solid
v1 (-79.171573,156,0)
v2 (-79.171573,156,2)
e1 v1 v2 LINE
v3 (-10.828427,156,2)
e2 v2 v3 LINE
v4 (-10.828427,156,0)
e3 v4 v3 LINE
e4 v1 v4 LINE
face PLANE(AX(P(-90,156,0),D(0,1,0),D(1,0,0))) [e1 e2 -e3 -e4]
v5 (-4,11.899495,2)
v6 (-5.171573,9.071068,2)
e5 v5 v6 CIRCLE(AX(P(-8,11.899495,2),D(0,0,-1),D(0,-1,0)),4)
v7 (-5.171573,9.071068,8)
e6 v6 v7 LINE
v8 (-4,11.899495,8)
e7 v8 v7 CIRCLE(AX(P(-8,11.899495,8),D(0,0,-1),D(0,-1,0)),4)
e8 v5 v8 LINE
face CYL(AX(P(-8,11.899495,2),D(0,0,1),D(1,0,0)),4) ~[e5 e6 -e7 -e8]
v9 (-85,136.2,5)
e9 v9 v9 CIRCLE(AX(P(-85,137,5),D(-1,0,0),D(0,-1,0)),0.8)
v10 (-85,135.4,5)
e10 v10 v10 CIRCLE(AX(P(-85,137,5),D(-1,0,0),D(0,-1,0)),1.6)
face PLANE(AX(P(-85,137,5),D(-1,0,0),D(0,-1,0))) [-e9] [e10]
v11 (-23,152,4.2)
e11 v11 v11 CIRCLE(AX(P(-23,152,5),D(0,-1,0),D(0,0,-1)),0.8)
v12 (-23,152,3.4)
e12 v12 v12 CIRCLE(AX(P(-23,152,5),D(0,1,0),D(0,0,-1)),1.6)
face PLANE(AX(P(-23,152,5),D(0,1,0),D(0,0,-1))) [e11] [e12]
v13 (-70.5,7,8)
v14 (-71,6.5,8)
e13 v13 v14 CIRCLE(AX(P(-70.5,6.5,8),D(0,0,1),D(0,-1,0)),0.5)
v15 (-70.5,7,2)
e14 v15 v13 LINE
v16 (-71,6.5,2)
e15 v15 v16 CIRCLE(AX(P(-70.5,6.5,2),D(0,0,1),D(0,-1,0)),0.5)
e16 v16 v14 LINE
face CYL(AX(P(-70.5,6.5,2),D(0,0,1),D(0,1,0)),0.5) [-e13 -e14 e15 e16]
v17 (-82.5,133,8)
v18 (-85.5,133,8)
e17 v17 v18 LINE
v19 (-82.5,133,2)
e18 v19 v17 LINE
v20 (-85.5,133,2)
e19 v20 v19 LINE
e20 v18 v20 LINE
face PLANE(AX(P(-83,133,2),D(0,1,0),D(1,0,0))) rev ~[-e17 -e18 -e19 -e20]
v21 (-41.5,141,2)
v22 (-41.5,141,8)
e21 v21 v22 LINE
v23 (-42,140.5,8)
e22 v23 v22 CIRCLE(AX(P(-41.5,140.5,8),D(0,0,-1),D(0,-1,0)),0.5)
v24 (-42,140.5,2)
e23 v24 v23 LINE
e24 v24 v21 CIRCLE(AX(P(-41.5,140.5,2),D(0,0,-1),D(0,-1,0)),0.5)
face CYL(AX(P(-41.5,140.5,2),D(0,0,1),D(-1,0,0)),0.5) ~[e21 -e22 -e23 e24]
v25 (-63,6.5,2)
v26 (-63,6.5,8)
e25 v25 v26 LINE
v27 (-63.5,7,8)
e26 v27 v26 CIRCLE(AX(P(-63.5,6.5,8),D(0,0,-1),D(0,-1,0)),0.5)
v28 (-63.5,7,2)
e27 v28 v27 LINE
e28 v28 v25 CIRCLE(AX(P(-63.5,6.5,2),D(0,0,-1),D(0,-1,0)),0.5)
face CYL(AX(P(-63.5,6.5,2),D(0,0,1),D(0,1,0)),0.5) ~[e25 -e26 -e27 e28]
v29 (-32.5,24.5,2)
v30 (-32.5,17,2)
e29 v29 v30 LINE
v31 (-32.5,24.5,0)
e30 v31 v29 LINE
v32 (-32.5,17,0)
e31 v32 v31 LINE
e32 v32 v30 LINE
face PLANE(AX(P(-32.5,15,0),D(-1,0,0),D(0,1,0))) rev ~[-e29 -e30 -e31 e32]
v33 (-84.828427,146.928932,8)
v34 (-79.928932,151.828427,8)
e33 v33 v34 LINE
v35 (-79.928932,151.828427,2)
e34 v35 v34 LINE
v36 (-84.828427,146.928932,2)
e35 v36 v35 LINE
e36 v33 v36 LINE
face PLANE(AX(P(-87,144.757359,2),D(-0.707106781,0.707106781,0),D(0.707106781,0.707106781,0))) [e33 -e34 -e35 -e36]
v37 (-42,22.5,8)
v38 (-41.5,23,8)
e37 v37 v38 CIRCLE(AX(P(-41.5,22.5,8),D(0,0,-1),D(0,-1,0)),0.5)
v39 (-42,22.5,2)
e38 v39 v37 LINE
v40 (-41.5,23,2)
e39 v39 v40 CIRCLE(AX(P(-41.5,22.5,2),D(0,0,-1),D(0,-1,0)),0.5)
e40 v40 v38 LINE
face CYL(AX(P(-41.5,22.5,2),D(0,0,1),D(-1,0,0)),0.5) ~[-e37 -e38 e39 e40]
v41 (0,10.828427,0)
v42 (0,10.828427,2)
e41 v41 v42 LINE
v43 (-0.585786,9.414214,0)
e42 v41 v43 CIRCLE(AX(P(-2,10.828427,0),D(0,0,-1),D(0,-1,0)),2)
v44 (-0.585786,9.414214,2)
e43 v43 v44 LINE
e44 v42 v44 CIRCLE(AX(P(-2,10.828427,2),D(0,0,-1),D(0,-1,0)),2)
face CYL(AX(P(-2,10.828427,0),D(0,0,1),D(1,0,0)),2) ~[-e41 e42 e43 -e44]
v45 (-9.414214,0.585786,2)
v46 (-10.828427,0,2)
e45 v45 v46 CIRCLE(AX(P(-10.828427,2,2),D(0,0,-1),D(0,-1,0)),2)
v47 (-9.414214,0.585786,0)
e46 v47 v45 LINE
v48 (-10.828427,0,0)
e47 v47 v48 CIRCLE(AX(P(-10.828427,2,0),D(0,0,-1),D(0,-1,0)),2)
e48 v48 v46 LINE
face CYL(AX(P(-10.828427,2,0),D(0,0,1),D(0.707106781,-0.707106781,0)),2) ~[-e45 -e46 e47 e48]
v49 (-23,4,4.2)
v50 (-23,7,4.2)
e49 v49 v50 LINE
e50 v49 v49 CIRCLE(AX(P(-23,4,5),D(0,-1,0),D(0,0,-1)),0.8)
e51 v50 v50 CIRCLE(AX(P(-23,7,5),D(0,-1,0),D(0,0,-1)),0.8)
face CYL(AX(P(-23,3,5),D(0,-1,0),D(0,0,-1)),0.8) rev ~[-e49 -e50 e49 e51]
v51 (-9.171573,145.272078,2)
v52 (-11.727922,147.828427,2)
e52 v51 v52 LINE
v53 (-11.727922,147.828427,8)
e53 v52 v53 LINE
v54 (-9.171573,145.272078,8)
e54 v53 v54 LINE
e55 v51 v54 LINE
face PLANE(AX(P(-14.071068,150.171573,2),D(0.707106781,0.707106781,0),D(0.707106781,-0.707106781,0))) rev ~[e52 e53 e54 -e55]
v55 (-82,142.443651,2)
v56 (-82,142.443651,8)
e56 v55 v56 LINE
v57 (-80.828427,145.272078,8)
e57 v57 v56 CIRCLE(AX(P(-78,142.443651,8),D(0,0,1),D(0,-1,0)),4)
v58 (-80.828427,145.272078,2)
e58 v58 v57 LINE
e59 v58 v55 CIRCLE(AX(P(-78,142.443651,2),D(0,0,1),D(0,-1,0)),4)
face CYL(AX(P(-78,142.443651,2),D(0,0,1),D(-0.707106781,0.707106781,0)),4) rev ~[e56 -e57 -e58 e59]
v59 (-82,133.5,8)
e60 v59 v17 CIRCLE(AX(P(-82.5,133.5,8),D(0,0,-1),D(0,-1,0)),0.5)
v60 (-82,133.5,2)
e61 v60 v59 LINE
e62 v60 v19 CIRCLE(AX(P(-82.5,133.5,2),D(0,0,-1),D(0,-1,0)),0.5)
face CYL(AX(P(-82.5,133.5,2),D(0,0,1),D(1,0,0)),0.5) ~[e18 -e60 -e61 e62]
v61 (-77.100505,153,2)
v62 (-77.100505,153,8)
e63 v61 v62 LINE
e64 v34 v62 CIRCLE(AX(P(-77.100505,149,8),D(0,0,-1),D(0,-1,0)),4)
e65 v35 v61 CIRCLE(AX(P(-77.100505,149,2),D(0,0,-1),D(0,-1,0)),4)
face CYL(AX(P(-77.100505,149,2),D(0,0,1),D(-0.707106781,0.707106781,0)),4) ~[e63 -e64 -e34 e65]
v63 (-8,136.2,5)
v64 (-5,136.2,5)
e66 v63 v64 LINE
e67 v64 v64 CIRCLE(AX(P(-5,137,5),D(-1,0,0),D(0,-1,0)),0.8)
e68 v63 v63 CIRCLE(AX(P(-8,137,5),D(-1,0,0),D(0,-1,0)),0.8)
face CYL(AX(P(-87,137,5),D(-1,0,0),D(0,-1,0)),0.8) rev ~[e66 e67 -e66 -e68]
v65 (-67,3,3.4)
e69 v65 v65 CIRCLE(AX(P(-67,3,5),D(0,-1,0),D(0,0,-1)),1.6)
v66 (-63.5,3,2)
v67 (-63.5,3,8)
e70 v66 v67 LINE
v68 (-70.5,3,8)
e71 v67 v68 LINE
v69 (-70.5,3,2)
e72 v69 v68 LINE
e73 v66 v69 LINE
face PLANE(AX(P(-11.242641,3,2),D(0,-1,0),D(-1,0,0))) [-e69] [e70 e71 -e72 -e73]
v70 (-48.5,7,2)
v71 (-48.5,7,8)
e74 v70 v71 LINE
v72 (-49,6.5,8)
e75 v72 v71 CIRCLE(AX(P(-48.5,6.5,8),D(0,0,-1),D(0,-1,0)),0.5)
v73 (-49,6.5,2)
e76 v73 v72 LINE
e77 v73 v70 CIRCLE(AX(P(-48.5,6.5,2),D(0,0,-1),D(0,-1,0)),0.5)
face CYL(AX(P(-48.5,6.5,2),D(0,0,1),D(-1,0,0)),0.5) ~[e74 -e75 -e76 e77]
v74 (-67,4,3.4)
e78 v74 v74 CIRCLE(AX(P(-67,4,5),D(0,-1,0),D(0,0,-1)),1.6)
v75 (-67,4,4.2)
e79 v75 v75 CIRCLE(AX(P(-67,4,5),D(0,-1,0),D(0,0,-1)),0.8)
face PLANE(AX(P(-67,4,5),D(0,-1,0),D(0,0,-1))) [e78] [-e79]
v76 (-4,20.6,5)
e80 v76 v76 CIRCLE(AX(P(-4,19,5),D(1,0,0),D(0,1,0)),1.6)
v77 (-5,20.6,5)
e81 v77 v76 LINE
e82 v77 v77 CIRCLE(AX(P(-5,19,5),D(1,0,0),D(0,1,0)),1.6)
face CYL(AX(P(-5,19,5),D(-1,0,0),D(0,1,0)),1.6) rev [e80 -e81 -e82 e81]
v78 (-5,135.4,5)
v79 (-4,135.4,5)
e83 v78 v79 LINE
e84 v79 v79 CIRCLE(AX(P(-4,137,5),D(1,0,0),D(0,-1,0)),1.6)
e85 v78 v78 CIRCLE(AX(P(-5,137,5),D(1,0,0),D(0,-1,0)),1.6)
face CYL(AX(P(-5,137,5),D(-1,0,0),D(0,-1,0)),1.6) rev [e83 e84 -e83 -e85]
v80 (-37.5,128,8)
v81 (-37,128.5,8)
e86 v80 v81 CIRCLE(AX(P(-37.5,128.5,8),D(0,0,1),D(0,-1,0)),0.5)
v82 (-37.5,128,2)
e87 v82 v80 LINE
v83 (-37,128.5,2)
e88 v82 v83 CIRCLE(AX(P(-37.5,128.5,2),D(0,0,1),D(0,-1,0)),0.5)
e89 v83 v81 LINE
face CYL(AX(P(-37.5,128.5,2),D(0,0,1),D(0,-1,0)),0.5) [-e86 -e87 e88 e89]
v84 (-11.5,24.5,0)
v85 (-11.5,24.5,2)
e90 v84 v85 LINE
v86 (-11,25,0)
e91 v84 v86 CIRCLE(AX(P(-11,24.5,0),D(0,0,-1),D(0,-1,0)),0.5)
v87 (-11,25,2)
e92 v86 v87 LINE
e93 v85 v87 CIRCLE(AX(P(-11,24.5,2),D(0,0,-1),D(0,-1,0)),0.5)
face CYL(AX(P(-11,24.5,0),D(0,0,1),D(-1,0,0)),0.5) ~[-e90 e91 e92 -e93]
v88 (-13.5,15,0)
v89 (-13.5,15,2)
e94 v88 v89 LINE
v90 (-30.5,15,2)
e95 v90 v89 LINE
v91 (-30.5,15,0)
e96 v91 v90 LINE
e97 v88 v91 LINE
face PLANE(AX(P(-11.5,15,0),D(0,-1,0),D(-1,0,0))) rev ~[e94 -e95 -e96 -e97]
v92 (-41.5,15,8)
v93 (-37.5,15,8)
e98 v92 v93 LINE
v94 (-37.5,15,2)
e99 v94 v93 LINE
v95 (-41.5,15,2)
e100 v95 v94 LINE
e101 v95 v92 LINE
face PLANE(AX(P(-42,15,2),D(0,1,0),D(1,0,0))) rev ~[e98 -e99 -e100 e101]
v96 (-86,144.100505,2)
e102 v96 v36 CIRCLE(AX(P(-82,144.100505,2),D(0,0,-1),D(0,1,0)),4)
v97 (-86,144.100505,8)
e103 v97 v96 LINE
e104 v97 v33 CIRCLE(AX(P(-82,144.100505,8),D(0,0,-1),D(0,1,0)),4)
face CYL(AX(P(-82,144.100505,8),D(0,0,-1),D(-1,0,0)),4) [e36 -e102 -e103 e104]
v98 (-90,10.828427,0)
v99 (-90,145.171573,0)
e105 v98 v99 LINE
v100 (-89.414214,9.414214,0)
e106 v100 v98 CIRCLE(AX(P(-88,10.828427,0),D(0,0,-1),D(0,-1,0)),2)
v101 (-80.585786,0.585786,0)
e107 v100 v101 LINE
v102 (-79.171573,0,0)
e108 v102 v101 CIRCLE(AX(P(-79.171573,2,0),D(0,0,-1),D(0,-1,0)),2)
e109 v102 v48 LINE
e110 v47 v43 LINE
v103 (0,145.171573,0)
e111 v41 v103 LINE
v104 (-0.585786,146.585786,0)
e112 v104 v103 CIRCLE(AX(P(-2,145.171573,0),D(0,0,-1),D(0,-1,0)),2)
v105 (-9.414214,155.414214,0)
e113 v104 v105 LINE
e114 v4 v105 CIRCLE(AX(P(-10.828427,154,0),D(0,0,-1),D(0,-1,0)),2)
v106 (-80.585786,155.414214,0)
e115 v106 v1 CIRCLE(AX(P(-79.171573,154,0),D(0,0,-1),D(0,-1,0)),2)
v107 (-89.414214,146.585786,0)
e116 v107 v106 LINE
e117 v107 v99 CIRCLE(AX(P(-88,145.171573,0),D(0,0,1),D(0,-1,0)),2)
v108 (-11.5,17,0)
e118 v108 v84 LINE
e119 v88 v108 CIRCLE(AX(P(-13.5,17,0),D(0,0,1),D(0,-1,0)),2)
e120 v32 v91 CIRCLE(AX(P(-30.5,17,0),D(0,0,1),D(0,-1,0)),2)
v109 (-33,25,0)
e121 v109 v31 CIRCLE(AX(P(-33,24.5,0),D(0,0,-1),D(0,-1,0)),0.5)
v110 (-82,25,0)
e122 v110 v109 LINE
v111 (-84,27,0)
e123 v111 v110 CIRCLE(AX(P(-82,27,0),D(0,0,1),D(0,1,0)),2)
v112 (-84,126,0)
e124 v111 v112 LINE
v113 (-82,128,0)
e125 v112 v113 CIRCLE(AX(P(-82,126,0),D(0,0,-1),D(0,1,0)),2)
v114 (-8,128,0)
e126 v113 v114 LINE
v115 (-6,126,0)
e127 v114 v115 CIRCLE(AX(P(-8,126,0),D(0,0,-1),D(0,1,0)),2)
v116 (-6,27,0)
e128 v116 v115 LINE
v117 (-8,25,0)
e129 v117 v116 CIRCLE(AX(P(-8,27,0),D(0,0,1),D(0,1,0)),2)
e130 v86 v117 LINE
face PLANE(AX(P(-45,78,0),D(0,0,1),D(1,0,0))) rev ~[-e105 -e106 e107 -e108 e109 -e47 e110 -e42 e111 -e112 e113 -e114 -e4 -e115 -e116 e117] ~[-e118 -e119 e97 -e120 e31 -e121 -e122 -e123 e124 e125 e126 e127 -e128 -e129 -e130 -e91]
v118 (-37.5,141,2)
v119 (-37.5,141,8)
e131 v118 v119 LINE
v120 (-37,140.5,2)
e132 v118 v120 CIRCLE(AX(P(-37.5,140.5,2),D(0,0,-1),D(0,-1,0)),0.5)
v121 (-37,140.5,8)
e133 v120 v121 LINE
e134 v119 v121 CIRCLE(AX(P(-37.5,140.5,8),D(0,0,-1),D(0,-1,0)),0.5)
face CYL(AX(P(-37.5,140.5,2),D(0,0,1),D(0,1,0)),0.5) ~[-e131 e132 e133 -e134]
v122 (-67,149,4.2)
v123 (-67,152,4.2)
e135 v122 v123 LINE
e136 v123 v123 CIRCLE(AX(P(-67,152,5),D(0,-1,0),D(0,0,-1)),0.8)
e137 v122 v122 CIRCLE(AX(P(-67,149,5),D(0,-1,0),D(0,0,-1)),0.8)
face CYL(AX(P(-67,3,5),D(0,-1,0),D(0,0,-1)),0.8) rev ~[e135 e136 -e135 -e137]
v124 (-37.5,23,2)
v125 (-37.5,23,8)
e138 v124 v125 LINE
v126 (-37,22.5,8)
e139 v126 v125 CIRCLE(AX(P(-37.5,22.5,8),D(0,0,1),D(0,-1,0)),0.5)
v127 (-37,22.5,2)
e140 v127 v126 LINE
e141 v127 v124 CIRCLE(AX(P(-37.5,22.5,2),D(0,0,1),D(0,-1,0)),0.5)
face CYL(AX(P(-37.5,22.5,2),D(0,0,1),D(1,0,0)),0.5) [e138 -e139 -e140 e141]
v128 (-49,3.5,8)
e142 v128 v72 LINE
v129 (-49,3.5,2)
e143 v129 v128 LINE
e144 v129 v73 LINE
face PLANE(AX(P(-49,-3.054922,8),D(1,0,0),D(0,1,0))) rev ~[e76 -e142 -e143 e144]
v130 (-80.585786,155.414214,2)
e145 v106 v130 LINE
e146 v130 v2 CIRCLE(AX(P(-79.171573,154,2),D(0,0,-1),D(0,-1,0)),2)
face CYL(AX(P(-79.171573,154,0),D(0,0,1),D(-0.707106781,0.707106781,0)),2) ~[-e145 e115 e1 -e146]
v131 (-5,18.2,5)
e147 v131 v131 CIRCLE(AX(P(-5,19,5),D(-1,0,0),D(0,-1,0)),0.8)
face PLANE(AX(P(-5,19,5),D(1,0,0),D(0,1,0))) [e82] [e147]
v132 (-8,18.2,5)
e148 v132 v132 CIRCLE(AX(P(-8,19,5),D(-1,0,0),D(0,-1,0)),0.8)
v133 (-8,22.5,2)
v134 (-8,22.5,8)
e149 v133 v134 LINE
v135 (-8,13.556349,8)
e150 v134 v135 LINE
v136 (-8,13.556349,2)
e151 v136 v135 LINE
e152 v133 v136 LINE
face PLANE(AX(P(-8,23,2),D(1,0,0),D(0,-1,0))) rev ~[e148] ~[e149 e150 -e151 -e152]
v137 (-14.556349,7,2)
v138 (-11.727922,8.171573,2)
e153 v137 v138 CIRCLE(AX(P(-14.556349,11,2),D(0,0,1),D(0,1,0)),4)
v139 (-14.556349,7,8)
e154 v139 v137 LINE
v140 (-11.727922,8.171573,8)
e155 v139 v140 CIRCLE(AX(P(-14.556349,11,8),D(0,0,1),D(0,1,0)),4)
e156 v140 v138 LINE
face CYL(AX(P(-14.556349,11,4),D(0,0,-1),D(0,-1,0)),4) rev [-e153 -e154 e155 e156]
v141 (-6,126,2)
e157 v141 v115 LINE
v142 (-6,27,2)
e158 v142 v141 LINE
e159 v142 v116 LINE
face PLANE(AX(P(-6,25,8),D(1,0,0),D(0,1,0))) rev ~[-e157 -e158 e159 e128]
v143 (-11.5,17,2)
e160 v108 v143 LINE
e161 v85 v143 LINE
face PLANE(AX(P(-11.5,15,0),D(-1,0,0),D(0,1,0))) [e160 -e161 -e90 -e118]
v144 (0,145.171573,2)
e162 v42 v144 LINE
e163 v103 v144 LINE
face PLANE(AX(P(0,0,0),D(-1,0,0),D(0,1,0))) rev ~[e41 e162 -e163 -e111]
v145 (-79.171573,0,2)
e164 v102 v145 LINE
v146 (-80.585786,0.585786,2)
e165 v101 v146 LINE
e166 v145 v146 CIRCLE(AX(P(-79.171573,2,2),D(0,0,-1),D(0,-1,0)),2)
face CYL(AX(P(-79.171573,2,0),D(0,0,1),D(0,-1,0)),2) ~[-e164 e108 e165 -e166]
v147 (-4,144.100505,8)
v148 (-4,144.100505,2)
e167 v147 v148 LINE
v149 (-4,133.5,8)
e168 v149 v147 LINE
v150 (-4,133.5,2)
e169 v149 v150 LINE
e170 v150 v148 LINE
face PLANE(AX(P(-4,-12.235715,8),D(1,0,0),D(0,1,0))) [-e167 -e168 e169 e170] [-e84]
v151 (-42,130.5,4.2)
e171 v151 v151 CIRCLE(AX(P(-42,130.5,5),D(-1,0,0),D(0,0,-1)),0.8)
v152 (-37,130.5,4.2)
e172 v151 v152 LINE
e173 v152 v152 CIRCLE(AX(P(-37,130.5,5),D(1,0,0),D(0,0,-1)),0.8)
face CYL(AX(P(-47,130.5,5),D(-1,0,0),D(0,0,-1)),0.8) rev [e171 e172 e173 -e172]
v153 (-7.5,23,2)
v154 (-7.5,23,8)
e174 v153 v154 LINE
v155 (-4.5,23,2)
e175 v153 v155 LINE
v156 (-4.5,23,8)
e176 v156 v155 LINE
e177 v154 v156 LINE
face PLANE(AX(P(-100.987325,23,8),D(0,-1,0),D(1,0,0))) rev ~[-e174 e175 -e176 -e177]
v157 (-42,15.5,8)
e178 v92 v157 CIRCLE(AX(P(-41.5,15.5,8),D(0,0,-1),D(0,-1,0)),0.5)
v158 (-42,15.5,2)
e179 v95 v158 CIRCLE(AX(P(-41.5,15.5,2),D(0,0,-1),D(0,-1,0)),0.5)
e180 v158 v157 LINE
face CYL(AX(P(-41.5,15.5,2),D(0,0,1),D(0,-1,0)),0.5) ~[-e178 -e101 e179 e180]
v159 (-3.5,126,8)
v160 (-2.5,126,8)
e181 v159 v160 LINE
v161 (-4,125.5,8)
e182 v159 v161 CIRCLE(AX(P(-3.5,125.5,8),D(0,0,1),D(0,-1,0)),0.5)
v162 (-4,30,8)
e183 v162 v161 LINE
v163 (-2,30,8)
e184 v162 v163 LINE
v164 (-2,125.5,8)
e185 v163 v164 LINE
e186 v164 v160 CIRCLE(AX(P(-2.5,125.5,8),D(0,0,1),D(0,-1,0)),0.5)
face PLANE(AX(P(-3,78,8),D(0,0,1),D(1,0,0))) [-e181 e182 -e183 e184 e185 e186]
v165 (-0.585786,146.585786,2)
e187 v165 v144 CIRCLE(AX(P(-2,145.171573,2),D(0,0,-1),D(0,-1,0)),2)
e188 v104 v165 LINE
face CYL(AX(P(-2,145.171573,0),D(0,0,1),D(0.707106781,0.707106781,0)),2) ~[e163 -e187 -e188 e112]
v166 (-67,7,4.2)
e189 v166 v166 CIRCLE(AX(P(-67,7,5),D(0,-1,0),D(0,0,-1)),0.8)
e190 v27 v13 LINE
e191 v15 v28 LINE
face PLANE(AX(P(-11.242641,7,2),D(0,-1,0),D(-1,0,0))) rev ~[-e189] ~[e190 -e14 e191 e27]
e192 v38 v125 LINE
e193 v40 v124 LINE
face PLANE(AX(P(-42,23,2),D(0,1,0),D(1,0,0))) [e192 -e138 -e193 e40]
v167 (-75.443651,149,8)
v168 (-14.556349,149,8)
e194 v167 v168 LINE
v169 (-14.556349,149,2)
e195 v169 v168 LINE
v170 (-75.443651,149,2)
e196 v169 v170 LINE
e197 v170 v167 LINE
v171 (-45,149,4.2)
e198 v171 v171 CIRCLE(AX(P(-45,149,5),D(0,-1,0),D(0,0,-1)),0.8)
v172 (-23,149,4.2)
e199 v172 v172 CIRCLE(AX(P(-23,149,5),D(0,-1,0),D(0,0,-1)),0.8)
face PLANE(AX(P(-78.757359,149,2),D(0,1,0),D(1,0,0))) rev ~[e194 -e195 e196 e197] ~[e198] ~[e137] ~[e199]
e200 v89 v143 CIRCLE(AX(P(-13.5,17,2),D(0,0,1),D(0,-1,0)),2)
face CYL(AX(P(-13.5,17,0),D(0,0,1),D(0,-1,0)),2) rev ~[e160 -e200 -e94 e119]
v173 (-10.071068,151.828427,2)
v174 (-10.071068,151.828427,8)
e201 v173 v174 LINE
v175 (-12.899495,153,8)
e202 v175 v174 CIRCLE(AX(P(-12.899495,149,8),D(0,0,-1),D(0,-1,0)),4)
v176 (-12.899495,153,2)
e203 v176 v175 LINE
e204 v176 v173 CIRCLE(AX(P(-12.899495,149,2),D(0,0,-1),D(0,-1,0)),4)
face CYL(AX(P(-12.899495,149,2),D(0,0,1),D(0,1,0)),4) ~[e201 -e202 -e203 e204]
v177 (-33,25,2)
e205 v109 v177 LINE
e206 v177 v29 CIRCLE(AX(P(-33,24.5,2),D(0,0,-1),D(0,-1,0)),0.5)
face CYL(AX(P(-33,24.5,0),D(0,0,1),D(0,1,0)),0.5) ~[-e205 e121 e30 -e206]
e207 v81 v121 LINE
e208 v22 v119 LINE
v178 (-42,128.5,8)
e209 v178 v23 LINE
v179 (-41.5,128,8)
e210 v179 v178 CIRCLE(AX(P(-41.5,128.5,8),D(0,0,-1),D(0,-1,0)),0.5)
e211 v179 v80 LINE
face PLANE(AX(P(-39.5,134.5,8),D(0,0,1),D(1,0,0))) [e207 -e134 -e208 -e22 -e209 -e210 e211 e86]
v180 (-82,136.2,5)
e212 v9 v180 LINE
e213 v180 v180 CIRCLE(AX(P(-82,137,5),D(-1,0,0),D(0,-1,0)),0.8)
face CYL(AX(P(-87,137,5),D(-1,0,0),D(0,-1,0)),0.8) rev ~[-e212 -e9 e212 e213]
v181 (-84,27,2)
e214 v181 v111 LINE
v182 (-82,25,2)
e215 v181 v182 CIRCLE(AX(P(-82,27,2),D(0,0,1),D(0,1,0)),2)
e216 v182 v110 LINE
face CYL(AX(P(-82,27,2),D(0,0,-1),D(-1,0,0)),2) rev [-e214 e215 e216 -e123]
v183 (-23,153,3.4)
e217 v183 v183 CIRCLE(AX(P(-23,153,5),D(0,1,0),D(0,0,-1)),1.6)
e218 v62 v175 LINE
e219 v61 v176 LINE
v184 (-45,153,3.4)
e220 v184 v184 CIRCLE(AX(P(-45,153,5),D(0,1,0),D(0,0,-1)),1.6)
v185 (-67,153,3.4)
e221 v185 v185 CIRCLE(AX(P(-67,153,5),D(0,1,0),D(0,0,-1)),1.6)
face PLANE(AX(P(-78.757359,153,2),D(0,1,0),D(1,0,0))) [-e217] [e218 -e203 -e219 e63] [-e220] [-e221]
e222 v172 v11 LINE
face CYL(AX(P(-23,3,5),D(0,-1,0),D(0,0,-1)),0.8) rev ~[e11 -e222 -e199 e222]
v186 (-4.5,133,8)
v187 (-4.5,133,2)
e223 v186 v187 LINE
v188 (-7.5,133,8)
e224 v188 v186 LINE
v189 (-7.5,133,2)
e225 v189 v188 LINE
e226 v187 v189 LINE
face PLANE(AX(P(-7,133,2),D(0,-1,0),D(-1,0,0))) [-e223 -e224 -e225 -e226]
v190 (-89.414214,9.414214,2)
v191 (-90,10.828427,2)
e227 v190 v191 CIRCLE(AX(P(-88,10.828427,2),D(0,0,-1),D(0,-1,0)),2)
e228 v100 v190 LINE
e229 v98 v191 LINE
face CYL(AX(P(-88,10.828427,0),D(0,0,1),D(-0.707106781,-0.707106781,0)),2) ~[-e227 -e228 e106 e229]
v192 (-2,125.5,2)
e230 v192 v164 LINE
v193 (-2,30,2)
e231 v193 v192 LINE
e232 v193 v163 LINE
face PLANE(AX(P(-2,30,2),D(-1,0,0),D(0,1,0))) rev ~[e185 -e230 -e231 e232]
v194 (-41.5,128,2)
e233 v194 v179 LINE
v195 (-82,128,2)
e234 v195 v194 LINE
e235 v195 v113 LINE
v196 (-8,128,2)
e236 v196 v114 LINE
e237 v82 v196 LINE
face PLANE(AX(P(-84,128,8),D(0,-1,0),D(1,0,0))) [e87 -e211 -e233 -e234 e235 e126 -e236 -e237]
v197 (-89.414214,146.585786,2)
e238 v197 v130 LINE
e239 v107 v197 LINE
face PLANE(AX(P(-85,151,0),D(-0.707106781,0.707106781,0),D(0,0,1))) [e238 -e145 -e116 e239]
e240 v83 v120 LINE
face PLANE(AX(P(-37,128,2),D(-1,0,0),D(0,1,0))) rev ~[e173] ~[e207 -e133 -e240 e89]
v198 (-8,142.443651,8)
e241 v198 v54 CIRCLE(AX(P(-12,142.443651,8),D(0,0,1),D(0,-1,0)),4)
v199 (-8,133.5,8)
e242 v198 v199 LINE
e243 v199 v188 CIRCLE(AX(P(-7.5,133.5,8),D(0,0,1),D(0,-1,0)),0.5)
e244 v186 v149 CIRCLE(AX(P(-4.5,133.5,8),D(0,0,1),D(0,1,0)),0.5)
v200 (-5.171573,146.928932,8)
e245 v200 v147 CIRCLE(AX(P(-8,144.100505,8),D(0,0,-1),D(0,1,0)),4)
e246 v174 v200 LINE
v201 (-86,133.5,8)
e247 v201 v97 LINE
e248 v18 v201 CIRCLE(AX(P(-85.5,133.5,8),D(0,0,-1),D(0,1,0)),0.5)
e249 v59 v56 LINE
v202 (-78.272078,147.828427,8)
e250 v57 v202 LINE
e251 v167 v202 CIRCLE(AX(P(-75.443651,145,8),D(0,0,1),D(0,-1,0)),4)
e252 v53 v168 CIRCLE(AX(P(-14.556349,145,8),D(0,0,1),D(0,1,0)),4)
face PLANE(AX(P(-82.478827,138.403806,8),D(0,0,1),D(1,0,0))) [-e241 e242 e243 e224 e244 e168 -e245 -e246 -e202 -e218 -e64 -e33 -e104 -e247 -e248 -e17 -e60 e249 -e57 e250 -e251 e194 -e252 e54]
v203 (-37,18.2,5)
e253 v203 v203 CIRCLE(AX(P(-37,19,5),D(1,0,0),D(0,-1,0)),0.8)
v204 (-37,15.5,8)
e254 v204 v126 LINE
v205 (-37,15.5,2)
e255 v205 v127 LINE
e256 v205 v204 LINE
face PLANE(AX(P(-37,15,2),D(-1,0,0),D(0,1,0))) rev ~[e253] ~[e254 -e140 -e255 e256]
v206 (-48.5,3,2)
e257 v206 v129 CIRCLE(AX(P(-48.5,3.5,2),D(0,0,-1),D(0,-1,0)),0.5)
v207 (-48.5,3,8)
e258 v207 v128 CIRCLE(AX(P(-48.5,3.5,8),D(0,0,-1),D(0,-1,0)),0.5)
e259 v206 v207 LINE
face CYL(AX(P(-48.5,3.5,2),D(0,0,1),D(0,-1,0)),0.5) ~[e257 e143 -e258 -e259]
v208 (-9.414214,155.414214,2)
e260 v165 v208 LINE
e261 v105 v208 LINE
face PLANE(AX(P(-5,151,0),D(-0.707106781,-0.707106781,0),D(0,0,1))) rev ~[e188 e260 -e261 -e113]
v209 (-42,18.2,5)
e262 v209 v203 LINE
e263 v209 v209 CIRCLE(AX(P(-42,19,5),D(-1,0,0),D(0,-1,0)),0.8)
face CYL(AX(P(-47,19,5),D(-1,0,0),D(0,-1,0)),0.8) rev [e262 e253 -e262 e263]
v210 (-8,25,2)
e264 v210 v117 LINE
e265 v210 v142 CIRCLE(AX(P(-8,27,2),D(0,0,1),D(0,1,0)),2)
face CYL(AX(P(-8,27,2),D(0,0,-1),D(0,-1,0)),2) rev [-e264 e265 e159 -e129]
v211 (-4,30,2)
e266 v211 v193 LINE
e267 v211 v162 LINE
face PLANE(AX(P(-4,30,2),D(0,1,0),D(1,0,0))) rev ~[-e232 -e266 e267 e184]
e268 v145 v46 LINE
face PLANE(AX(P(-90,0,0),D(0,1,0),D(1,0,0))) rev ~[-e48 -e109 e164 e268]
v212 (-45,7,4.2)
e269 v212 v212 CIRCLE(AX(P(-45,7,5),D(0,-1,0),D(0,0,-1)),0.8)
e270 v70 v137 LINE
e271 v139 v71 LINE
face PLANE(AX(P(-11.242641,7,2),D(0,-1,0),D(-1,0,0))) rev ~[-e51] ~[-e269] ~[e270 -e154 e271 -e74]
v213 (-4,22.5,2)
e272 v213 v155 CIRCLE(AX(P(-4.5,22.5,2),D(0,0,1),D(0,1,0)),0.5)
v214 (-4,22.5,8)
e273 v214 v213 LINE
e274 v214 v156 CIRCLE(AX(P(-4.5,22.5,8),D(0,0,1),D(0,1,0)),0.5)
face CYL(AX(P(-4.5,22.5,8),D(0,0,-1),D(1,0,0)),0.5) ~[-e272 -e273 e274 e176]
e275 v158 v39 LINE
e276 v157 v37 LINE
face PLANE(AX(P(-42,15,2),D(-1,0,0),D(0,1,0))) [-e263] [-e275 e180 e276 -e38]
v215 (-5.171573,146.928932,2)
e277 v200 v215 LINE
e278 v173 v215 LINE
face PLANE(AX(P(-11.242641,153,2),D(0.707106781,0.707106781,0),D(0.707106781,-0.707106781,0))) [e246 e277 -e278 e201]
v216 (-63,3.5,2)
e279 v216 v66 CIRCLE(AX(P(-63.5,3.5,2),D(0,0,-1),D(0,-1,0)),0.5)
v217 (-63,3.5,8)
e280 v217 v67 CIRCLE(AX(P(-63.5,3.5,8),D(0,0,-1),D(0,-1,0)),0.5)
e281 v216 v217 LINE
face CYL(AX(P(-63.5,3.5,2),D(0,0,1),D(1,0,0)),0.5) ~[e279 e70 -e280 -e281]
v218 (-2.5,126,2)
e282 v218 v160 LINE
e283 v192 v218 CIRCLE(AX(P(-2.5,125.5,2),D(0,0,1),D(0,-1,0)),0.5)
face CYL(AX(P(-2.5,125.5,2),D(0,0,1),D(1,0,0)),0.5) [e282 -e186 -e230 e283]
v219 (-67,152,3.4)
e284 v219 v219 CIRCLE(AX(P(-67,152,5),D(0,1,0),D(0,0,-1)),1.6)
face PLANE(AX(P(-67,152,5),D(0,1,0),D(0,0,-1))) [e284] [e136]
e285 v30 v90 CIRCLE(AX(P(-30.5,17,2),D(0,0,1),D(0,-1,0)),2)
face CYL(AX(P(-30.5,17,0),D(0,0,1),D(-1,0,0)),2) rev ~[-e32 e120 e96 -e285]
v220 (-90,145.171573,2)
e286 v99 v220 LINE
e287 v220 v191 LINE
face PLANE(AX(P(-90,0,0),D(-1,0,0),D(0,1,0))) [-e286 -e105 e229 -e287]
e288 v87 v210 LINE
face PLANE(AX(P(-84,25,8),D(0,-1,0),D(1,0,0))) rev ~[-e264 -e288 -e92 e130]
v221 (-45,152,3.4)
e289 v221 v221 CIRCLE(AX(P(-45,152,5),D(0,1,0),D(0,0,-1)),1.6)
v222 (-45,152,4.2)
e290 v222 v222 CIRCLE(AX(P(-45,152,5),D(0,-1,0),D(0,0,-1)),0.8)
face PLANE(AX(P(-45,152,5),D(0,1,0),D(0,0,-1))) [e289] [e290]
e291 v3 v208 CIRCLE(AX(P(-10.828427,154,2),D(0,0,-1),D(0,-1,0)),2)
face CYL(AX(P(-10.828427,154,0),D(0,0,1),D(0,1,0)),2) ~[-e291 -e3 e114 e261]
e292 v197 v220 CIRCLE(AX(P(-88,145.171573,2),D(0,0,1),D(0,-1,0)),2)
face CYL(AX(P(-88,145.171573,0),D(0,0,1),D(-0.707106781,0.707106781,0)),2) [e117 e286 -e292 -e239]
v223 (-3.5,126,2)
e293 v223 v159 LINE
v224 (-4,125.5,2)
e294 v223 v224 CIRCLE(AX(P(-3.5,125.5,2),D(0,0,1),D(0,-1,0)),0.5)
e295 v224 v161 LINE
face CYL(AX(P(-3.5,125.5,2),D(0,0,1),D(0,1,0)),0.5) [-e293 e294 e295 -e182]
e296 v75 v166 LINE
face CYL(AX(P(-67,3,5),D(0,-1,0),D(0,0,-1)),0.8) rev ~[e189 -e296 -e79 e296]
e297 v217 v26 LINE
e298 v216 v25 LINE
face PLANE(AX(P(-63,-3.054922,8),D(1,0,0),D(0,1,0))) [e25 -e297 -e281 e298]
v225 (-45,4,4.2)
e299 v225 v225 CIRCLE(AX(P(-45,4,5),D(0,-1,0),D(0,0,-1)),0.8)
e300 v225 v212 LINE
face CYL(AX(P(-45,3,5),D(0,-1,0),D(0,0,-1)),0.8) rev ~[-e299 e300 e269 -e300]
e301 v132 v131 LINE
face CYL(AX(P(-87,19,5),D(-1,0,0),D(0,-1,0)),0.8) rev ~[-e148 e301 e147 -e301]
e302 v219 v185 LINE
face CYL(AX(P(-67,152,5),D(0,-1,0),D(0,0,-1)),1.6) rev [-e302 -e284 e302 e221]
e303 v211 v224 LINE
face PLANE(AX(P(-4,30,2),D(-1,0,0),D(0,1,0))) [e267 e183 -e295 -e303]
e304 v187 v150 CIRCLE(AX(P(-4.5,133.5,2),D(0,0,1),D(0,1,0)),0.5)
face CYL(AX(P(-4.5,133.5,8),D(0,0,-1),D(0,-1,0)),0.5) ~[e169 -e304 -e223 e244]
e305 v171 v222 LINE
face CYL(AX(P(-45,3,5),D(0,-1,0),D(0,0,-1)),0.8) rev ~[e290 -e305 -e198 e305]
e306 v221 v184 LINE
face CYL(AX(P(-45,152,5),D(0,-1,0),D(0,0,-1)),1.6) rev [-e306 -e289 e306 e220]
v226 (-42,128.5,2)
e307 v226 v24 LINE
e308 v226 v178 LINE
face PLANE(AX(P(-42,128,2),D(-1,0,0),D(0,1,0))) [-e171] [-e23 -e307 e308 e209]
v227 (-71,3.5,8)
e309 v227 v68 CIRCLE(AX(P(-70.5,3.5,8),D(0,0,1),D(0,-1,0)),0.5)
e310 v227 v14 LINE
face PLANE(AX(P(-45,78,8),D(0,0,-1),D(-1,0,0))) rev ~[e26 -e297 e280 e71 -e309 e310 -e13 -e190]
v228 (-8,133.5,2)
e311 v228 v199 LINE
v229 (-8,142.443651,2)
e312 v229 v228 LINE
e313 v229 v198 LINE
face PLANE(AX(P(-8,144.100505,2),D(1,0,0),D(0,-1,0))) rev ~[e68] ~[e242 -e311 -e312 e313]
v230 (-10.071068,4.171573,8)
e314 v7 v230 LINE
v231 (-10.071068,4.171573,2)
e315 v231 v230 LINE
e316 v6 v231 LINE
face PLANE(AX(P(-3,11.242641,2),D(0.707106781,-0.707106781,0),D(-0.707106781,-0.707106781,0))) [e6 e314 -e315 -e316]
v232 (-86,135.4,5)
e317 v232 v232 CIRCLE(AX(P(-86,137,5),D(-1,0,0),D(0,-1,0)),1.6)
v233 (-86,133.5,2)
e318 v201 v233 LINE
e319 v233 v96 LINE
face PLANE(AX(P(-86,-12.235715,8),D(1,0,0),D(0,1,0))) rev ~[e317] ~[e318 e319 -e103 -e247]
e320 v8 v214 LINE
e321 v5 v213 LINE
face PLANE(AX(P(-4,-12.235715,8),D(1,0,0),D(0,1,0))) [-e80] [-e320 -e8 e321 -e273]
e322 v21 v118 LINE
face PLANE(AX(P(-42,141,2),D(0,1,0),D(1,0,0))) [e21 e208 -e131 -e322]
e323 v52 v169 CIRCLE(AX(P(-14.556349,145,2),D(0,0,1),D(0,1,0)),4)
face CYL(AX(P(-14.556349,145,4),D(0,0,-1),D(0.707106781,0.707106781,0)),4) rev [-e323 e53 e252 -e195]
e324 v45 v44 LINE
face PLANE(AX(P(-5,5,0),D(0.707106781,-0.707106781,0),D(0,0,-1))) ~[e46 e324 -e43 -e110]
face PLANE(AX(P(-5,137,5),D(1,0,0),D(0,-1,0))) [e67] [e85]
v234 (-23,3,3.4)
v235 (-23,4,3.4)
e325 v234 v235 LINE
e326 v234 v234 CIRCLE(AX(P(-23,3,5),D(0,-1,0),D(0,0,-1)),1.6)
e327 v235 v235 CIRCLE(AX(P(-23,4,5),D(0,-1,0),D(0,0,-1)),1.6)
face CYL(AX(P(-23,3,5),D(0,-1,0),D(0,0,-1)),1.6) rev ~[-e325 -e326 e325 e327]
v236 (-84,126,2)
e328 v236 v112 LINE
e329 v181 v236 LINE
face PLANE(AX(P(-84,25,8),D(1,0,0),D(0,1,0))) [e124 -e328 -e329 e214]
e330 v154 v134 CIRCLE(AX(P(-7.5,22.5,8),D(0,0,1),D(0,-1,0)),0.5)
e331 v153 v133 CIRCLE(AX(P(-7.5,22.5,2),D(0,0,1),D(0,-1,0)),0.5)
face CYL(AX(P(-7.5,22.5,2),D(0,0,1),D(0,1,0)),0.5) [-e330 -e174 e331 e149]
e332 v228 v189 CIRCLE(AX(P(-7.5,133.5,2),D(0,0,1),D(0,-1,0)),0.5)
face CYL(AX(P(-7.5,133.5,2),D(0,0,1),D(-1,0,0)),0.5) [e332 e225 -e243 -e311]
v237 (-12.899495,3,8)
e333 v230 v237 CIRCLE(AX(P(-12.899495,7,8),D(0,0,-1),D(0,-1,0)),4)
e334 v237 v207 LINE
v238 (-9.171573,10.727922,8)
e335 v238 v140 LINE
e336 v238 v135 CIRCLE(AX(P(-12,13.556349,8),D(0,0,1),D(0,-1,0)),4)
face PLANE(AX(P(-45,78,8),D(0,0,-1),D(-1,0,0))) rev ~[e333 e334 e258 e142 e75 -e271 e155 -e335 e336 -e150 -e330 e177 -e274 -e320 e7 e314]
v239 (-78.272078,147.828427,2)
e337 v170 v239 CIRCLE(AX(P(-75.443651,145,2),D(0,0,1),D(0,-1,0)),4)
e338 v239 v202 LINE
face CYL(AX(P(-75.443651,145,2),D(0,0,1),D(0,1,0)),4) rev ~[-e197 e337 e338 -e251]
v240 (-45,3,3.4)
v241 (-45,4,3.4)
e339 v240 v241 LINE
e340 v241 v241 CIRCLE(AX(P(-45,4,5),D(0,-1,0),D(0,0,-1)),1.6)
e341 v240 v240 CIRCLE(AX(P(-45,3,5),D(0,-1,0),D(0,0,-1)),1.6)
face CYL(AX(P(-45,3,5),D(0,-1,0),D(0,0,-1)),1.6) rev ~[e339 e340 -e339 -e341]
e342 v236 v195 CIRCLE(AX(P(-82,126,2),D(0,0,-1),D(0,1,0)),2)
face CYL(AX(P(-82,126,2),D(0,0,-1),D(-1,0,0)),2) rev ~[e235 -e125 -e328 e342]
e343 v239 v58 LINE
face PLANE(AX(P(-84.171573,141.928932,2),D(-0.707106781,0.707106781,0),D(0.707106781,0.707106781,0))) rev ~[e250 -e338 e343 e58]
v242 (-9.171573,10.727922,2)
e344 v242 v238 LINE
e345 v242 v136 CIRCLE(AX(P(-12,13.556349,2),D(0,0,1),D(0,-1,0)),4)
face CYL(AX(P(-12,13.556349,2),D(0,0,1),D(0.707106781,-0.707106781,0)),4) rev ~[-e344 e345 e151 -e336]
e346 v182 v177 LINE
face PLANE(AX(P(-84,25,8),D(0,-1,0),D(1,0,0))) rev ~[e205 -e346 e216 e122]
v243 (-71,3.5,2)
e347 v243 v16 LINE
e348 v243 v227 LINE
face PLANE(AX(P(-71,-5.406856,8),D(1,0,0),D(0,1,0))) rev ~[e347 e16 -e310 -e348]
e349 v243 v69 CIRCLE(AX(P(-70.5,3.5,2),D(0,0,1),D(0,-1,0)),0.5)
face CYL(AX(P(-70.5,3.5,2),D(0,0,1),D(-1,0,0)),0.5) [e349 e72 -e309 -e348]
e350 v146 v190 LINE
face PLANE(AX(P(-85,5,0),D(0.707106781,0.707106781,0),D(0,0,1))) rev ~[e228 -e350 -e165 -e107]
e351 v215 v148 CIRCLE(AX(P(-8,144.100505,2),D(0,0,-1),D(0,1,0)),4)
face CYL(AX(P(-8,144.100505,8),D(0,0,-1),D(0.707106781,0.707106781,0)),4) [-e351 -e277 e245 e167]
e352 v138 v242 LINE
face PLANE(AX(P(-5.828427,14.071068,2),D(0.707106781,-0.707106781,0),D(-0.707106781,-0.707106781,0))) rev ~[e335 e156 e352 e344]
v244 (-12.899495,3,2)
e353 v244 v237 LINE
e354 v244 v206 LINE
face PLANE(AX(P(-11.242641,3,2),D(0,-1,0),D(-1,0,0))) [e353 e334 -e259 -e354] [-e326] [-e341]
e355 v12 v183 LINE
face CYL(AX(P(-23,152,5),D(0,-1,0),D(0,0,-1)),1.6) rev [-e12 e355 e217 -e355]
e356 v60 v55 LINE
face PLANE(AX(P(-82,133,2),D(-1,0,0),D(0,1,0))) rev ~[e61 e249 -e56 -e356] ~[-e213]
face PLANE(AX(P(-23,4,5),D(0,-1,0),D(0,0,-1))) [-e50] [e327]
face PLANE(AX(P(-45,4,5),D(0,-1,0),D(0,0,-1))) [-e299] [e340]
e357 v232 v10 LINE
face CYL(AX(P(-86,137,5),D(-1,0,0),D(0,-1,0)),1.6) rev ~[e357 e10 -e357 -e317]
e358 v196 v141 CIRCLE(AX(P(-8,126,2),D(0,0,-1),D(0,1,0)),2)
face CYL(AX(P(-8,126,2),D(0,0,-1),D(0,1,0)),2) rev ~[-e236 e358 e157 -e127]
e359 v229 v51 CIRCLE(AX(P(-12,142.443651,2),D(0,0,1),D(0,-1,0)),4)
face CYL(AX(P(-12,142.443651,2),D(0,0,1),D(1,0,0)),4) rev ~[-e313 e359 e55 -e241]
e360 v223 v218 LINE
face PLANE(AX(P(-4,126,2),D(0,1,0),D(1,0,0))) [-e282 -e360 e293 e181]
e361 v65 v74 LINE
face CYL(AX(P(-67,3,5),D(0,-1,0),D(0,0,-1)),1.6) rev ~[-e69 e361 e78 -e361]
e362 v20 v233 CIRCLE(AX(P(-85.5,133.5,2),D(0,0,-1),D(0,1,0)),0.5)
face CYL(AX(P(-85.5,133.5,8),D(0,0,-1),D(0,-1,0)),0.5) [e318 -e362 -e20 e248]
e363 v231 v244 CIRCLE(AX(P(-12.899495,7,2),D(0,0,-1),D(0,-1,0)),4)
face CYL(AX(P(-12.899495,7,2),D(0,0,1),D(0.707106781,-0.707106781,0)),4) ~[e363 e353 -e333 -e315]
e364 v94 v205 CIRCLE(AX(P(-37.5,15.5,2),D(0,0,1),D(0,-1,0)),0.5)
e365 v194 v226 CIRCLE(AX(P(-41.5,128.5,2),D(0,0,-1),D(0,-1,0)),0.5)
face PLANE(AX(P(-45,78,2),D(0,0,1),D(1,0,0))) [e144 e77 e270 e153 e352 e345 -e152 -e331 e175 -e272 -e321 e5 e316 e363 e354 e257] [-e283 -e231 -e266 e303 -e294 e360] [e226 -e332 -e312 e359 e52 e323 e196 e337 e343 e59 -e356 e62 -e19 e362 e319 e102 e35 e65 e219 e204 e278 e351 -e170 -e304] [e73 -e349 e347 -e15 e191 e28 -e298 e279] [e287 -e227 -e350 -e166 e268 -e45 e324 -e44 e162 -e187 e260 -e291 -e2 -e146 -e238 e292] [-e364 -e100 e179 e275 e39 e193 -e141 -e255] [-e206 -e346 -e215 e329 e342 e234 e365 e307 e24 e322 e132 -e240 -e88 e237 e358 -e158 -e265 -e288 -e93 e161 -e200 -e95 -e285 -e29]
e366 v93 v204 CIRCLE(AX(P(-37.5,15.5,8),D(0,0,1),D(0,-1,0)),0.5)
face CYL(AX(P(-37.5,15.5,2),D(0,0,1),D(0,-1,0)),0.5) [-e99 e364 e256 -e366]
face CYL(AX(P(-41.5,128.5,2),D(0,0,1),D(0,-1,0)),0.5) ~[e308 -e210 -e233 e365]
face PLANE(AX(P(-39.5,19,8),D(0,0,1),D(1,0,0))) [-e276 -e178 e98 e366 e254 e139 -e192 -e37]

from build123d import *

# Parameters (mm, degrees)
SKETCH_1_W                = 90
SKETCH_1_H                = 156
EXTRUDE_1_DEPTH           = 2
CHAMFER_1_SIZE            = 10
EXTRUDE_2_DEPTH           = 6
SHELL_3_T                 = -4
SHELL_3_THICKNESS_2_DEPTH = 2
SKETCH_5_R                = 0.8
CUT_EXTRUDE_2088_DEPTH    = 200
SKETCH_25_W               = 15.521102544
SKETCH_25_H               = 165.941128128
SKETCH_25_W_2             = 34.04372952
CUT_EXTRUDE_17_DEPTH      = 6
SKETCH_8_W                = 109.527726605
SKETCH_8_H                = 110
CUT_EXTRUDE_3357_DEPTH    = 6
EXTRUDE_5_DEPTH           = 6
FILLET_4312_R             = 2
FILLET_4896_R             = 4
SKETCH_4_R                = 0.8
CUT_EXTRUDE_5906_DEPTH    = 100
SKETCH_6_W                = 5
SKETCH_6_H                = 13
SKETCH_6_H_2              = 8
EXTRUDE_3_DEPTH           = 6
CUT_EXTRUDE_START         = -10
SKETCH_17_R               = 0.8
CUT_EXTRUDE_7436_DEPTH    = 10
SKETCH_11_W               = 14
SKETCH_11_H               = 18.940292979
SKETCH_11_W_2             = 19
SKETCH_11_H_2             = 39.158001539
PCI_E_DEPTH               = 6
SKETCH_10_W               = 78
SKETCH_10_H               = 103
IO_2_DEPTH                = 10
SKETCH_15_W               = 21
SKETCH_15_H               = 10
CUT_EXTRUDE_10858_DEPTH   = 10
SKETCH_21_R               = 1.6
CUT_EXTRUDE_14_DEPTH      = 1
CUT_EXTRUDE_START_2       = -1
SKETCH_20_R               = 1.6
CUT_EXTRUDE_12604_DEPTH   = 1
SKETCH_22_R               = 1.6
CUT_EXTRUDE_15_DEPTH      = 1
SKETCH_23_R               = 1.6
CUT_EXTRUDE_16_DEPTH      = 1
SKETCH_26_W               = 2
SKETCH_26_H               = 96
EXTRUDE_4_DEPTH           = 6
FILLET_5_R                = 2
FILLET_7_R                = 0.5
FILLET_8_R                = 0.5


with BuildPart() as part:
    # 草图1 → 凸台-拉伸1 (new body)
    with BuildSketch(Plane.XY):
        with Locations((-45, 78)):
            Rectangle(SKETCH_1_W, SKETCH_1_H)
    extrude(amount=EXTRUDE_1_DEPTH)

    # 倒角1
    chamfer_1_edges = [part.edges().sort_by_distance(p)[0] for p in [
        (0, 0, 1),
        (-90, 0, 1),
        (-90, 156, 1),
        (0, 156, 1),
    ]]
    chamfer(chamfer_1_edges, length=CHAMFER_1_SIZE)

    # 草图2 → 凸台-拉伸2 (add)
    with BuildSketch(Plane.XY.offset(2)):
        Polygon((-78.757359313, 153), (-11.242640687, 153), (-3, 144.757359313), (-3, 11.242640687), (-11.242640687, 3), (-78.757359313, 3), (-87, 11.242640687), (-87, 144.757359313), align=None)
    extrude(amount=EXTRUDE_2_DEPTH)

    # 抽壳3
    shell_3_openings = [part.faces().sort_by_distance(p)[0] for p in [
        (-45, 78, 8),
    ]]
    offset(amount=SHELL_3_T, openings=shell_3_openings)

    # 抽壳3 thickness 2 face (on inner face of the shell) → 抽壳3 thickness 2 (cut)
    with BuildSketch(Plane(origin=(-45, 78, 4), x_dir=(-1, 0, 0), z_dir=(0, 0, -1))):
        Polygon((-32.100505063, 71), (32.100505063, 71), (38, 65.100505063), (38, -65.100505063), (32.100505063, -71), (-32.100505063, -71), (-38, -65.100505063), (-38, 65.100505063), align=None)
    extrude(amount=SHELL_3_THICKNESS_2_DEPTH, mode=Mode.SUBTRACT)

    # 草图5 → Cut-Extrude 2088 (cut)
    with BuildSketch(Plane(origin=(0, 3, 0), x_dir=(-1, 0, 0), z_dir=(0, -1, 0))):
        with Locations(Location((67, -5, 0), (0, 0, 90))):
            Circle(SKETCH_5_R)
        with Locations(Location((23, -5, 0), (0, 0, 90))):
            Circle(SKETCH_5_R)
        with Locations(Location((45, -5, 0), (0, 0, 90))):
            Circle(SKETCH_5_R)
    extrude(amount=-CUT_EXTRUDE_2088_DEPTH, mode=Mode.SUBTRACT)

    # 草图25 → 切除-拉伸17 (cut)
    with BuildSketch(Plane.XY.offset(8)):
        with Locations((-93.760551272, 70.734849479)):
            Rectangle(SKETCH_25_W, SKETCH_25_H)
        with Locations((13.02186476, 70.734849479)):
            Rectangle(SKETCH_25_W_2, SKETCH_25_H)
    extrude(amount=-CUT_EXTRUDE_17_DEPTH, mode=Mode.SUBTRACT)

    # 草图8 → Cut-Extrude 3357 (cut)
    with BuildSketch(Plane.XY.offset(8)):
        with Locations((-46.223461864, 78)):
            Rectangle(SKETCH_8_W, SKETCH_8_H)
    extrude(amount=-CUT_EXTRUDE_3357_DEPTH, mode=Mode.SUBTRACT)

    # 草图28 → 凸台-拉伸5 (add)
    with BuildSketch(Plane.XY.offset(2)):
        Polygon((-82, 143.100505063), (-82, 144.100505063), (-83, 143.100505063), (-83, 133), (-82, 133), align=None)
        Polygon((-8, 143.100505063), (-8, 144.100505063), (-7, 143.100505063), (-7, 133), (-8, 133), align=None)
        Polygon((-8, 12.899494937), (-8, 11.899494937), (-7, 12.899494937), (-7, 23), (-8, 23), align=None)
    extrude(amount=EXTRUDE_5_DEPTH)

    # Fillet 4312
    fillet_4312_edges = [part.edges().sort_by_distance(p)[0] for p in [
        (0, 146, 1),
        (0, 10, 1),
        (-80, 0, 1),
        (-10, 0, 1),
        (-90, 146, 1),
        (-90, 10, 1),
        (-10, 156, 1),
        (-80, 156, 1),
    ]]
    fillet(fillet_4312_edges, radius=FILLET_4312_R)

    # Fillet 4896
    fillet_4896_edges = [part.edges().sort_by_distance(p)[0] for p in [
        (-4, 145.757359313, 5),
        (-86, 10.242640687, 5),
        (-86, 145.757359313, 5),
        (-4, 10.242640687, 5),
        (-82, 144.100505063, 5),
        (-8, 144.100505063, 5),
        (-8, 11.899494937, 5),
        (-78.757359313, 153, 5),
        (-78.757359313, 3, 5),
        (-11.242640687, 3, 5),
        (-11.242640687, 153, 5),
        (-77.100505063, 149, 5),
        (-83, 12.899494937, 5),
        (-77.100505063, 7, 5),
        (-12.899494937, 7, 5),
        (-12.899494937, 149, 5),
    ]]
    fillet(fillet_4896_edges, radius=FILLET_4896_R)

    # 草图4 → Cut-Extrude 5906 (cut)
    with BuildSketch(Plane.ZY.offset(87)):
        with Locations(Location((5, 137, 0), (0, 0, 270))):
            Circle(SKETCH_4_R)
        with Locations(Location((5, 19, 0), (0, 0, 270))):
            Circle(SKETCH_4_R)
    extrude(amount=-CUT_EXTRUDE_5906_DEPTH, mode=Mode.SUBTRACT)

    # 草图6 → 凸台-拉伸3 (add)
    with BuildSketch(Plane.XY.offset(2)):
        with Locations((-39.5, 134.5)):
            Rectangle(SKETCH_6_W, SKETCH_6_H)
        with Locations((-39.5, 19)):
            Rectangle(SKETCH_6_W, SKETCH_6_H_2)
    extrude(amount=EXTRUDE_3_DEPTH)

    # 草图17 → Cut-Extrude 7436 (cut)
    with BuildSketch(Plane(origin=(-37, 0, 0), x_dir=(0, 0, -1), z_dir=(1, 0, 0)).offset(CUT_EXTRUDE_START)):
        with Locations((-5, 130.5)):
            Circle(SKETCH_17_R)
        with Locations(Location((-5, 19, 0), (0, 0, 270))):
            Circle(SKETCH_17_R)
    extrude(amount=CUT_EXTRUDE_7436_DEPTH, mode=Mode.SUBTRACT)

    # 草图11 → PCI-E (cut)
    with BuildSketch(Plane.XY.offset(8)):
        with Locations((-56, 6.415224672)):
            Rectangle(SKETCH_11_W, SKETCH_11_H)
        with Locations((-80.5, 14.172145087)):
            Rectangle(SKETCH_11_W_2, SKETCH_11_H_2)
    extrude(amount=-PCI_E_DEPTH, mode=Mode.SUBTRACT)

    # 草图10 → IO 2 (cut)
    with BuildSketch(Plane.XY.offset(8)):
        with Locations((-45, 76.5)):
            Rectangle(SKETCH_10_W, SKETCH_10_H)
    extrude(amount=-IO_2_DEPTH, mode=Mode.SUBTRACT)

    # 草图15 → Cut-Extrude 10858 (cut)
    with BuildSketch(Plane(origin=(0, 0, 0), x_dir=(-1, 0, 0), z_dir=(0, 0, -1))):
        with Locations((22, 20)):
            Rectangle(SKETCH_15_W, SKETCH_15_H)
    extrude(amount=-CUT_EXTRUDE_10858_DEPTH, mode=Mode.SUBTRACT)

    # 草图21 → 切除-拉伸14 (cut)
    with BuildSketch(Plane(origin=(0, 3, 0), x_dir=(-1, 0, 0), z_dir=(0, -1, 0))):
        with Locations(Location((67, -5, 0), (0, 0, 90))):
            Circle(SKETCH_21_R)
        with Locations(Location((45, -5, 0), (0, 0, 90))):
            Circle(SKETCH_21_R)
        with Locations(Location((23, -5, 0), (0, 0, 90))):
            Circle(SKETCH_21_R)
    extrude(amount=-CUT_EXTRUDE_14_DEPTH, mode=Mode.SUBTRACT)

    # 草图20 → Cut-Extrude 12604 (cut)
    with BuildSketch(Plane(origin=(0, 153, 0), x_dir=(1, 0, 0), z_dir=(0, 1, 0)).offset(CUT_EXTRUDE_START_2)):
        with Locations(Location((-67, -5, 0), (0, 0, 90))):
            Circle(SKETCH_20_R)
        with Locations(Location((-45, -5, 0), (0, 0, 90))):
            Circle(SKETCH_20_R)
        with Locations(Location((-23, -5, 0), (0, 0, 90))):
            Circle(SKETCH_20_R)
    extrude(amount=CUT_EXTRUDE_12604_DEPTH, mode=Mode.SUBTRACT)

    # 草图22 → 切除-拉伸15 (cut)
    with BuildSketch(Plane.ZY.offset(86)):
        with Locations(Location((5, 137, 0), (0, 0, 270))):
            Circle(SKETCH_22_R)
        with Locations((5, 19)):
            Circle(SKETCH_22_R)
    extrude(amount=-CUT_EXTRUDE_15_DEPTH, mode=Mode.SUBTRACT)

    # 草图23 → 切除-拉伸16 (cut)
    with BuildSketch(Plane(origin=(-4, 0, 0), x_dir=(0, 0, -1), z_dir=(1, 0, 0)).offset(CUT_EXTRUDE_START_2)):
        with Locations(Location((-5, 137, 0), (0, 0, 270))):
            Circle(SKETCH_23_R)
        with Locations(Location((-5, 19, 0), (0, 0, 90))):
            Circle(SKETCH_23_R)
    extrude(amount=CUT_EXTRUDE_16_DEPTH, mode=Mode.SUBTRACT)

    # 草图26 → 凸台-拉伸4 (add)
    with BuildSketch(Plane.XY.offset(2)):
        with Locations((-3, 78)):
            Rectangle(SKETCH_26_W, SKETCH_26_H)
    extrude(amount=EXTRUDE_4_DEPTH)

    # 圆角5
    fillet_5_edges = [part.edges().sort_by_distance(p)[0] for p in [
        (-84, 25, 1),
        (-6, 128, 1),
        (-6, 25, 1),
        (-84, 128, 1),
        (-11.5, 15, 1),
        (-32.5, 15, 1),
    ]]
    fillet(fillet_5_edges, radius=FILLET_5_R)

    # 圆角7
    fillet_7_edges = [part.edges().sort_by_distance(p)[0] for p in [
        (-32.5, 25, 1),
        (-11.5, 25, 1),
    ]]
    fillet(fillet_7_edges, radius=FILLET_7_R)

    # 圆角8
    fillet_8_edges = [part.edges().sort_by_distance(p)[0] for p in [
        (-86, 133, 5),
        (-4, 23, 5),
        (-4, 133, 5),
        (-82, 133, 5),
        (-8, 133, 5),
        (-8, 23, 5),
        (-42, 141, 5),
        (-42, 128, 5),
        (-37, 128, 5),
        (-37, 141, 5),
        (-37, 15, 5),
        (-37, 23, 5),
        (-42, 23, 5),
        (-42, 15, 5),
        (-49, 7, 5),
        (-63, 7, 5),
        (-71, 7, 5),
        (-71, 3, 5),
        (-63, 3, 5),
        (-49, 3, 5),
        (-4, 126, 5),
        (-2, 126, 5),
    ]]
    fillet(fillet_8_edges, radius=FILLET_8_R)


solid = part.part
